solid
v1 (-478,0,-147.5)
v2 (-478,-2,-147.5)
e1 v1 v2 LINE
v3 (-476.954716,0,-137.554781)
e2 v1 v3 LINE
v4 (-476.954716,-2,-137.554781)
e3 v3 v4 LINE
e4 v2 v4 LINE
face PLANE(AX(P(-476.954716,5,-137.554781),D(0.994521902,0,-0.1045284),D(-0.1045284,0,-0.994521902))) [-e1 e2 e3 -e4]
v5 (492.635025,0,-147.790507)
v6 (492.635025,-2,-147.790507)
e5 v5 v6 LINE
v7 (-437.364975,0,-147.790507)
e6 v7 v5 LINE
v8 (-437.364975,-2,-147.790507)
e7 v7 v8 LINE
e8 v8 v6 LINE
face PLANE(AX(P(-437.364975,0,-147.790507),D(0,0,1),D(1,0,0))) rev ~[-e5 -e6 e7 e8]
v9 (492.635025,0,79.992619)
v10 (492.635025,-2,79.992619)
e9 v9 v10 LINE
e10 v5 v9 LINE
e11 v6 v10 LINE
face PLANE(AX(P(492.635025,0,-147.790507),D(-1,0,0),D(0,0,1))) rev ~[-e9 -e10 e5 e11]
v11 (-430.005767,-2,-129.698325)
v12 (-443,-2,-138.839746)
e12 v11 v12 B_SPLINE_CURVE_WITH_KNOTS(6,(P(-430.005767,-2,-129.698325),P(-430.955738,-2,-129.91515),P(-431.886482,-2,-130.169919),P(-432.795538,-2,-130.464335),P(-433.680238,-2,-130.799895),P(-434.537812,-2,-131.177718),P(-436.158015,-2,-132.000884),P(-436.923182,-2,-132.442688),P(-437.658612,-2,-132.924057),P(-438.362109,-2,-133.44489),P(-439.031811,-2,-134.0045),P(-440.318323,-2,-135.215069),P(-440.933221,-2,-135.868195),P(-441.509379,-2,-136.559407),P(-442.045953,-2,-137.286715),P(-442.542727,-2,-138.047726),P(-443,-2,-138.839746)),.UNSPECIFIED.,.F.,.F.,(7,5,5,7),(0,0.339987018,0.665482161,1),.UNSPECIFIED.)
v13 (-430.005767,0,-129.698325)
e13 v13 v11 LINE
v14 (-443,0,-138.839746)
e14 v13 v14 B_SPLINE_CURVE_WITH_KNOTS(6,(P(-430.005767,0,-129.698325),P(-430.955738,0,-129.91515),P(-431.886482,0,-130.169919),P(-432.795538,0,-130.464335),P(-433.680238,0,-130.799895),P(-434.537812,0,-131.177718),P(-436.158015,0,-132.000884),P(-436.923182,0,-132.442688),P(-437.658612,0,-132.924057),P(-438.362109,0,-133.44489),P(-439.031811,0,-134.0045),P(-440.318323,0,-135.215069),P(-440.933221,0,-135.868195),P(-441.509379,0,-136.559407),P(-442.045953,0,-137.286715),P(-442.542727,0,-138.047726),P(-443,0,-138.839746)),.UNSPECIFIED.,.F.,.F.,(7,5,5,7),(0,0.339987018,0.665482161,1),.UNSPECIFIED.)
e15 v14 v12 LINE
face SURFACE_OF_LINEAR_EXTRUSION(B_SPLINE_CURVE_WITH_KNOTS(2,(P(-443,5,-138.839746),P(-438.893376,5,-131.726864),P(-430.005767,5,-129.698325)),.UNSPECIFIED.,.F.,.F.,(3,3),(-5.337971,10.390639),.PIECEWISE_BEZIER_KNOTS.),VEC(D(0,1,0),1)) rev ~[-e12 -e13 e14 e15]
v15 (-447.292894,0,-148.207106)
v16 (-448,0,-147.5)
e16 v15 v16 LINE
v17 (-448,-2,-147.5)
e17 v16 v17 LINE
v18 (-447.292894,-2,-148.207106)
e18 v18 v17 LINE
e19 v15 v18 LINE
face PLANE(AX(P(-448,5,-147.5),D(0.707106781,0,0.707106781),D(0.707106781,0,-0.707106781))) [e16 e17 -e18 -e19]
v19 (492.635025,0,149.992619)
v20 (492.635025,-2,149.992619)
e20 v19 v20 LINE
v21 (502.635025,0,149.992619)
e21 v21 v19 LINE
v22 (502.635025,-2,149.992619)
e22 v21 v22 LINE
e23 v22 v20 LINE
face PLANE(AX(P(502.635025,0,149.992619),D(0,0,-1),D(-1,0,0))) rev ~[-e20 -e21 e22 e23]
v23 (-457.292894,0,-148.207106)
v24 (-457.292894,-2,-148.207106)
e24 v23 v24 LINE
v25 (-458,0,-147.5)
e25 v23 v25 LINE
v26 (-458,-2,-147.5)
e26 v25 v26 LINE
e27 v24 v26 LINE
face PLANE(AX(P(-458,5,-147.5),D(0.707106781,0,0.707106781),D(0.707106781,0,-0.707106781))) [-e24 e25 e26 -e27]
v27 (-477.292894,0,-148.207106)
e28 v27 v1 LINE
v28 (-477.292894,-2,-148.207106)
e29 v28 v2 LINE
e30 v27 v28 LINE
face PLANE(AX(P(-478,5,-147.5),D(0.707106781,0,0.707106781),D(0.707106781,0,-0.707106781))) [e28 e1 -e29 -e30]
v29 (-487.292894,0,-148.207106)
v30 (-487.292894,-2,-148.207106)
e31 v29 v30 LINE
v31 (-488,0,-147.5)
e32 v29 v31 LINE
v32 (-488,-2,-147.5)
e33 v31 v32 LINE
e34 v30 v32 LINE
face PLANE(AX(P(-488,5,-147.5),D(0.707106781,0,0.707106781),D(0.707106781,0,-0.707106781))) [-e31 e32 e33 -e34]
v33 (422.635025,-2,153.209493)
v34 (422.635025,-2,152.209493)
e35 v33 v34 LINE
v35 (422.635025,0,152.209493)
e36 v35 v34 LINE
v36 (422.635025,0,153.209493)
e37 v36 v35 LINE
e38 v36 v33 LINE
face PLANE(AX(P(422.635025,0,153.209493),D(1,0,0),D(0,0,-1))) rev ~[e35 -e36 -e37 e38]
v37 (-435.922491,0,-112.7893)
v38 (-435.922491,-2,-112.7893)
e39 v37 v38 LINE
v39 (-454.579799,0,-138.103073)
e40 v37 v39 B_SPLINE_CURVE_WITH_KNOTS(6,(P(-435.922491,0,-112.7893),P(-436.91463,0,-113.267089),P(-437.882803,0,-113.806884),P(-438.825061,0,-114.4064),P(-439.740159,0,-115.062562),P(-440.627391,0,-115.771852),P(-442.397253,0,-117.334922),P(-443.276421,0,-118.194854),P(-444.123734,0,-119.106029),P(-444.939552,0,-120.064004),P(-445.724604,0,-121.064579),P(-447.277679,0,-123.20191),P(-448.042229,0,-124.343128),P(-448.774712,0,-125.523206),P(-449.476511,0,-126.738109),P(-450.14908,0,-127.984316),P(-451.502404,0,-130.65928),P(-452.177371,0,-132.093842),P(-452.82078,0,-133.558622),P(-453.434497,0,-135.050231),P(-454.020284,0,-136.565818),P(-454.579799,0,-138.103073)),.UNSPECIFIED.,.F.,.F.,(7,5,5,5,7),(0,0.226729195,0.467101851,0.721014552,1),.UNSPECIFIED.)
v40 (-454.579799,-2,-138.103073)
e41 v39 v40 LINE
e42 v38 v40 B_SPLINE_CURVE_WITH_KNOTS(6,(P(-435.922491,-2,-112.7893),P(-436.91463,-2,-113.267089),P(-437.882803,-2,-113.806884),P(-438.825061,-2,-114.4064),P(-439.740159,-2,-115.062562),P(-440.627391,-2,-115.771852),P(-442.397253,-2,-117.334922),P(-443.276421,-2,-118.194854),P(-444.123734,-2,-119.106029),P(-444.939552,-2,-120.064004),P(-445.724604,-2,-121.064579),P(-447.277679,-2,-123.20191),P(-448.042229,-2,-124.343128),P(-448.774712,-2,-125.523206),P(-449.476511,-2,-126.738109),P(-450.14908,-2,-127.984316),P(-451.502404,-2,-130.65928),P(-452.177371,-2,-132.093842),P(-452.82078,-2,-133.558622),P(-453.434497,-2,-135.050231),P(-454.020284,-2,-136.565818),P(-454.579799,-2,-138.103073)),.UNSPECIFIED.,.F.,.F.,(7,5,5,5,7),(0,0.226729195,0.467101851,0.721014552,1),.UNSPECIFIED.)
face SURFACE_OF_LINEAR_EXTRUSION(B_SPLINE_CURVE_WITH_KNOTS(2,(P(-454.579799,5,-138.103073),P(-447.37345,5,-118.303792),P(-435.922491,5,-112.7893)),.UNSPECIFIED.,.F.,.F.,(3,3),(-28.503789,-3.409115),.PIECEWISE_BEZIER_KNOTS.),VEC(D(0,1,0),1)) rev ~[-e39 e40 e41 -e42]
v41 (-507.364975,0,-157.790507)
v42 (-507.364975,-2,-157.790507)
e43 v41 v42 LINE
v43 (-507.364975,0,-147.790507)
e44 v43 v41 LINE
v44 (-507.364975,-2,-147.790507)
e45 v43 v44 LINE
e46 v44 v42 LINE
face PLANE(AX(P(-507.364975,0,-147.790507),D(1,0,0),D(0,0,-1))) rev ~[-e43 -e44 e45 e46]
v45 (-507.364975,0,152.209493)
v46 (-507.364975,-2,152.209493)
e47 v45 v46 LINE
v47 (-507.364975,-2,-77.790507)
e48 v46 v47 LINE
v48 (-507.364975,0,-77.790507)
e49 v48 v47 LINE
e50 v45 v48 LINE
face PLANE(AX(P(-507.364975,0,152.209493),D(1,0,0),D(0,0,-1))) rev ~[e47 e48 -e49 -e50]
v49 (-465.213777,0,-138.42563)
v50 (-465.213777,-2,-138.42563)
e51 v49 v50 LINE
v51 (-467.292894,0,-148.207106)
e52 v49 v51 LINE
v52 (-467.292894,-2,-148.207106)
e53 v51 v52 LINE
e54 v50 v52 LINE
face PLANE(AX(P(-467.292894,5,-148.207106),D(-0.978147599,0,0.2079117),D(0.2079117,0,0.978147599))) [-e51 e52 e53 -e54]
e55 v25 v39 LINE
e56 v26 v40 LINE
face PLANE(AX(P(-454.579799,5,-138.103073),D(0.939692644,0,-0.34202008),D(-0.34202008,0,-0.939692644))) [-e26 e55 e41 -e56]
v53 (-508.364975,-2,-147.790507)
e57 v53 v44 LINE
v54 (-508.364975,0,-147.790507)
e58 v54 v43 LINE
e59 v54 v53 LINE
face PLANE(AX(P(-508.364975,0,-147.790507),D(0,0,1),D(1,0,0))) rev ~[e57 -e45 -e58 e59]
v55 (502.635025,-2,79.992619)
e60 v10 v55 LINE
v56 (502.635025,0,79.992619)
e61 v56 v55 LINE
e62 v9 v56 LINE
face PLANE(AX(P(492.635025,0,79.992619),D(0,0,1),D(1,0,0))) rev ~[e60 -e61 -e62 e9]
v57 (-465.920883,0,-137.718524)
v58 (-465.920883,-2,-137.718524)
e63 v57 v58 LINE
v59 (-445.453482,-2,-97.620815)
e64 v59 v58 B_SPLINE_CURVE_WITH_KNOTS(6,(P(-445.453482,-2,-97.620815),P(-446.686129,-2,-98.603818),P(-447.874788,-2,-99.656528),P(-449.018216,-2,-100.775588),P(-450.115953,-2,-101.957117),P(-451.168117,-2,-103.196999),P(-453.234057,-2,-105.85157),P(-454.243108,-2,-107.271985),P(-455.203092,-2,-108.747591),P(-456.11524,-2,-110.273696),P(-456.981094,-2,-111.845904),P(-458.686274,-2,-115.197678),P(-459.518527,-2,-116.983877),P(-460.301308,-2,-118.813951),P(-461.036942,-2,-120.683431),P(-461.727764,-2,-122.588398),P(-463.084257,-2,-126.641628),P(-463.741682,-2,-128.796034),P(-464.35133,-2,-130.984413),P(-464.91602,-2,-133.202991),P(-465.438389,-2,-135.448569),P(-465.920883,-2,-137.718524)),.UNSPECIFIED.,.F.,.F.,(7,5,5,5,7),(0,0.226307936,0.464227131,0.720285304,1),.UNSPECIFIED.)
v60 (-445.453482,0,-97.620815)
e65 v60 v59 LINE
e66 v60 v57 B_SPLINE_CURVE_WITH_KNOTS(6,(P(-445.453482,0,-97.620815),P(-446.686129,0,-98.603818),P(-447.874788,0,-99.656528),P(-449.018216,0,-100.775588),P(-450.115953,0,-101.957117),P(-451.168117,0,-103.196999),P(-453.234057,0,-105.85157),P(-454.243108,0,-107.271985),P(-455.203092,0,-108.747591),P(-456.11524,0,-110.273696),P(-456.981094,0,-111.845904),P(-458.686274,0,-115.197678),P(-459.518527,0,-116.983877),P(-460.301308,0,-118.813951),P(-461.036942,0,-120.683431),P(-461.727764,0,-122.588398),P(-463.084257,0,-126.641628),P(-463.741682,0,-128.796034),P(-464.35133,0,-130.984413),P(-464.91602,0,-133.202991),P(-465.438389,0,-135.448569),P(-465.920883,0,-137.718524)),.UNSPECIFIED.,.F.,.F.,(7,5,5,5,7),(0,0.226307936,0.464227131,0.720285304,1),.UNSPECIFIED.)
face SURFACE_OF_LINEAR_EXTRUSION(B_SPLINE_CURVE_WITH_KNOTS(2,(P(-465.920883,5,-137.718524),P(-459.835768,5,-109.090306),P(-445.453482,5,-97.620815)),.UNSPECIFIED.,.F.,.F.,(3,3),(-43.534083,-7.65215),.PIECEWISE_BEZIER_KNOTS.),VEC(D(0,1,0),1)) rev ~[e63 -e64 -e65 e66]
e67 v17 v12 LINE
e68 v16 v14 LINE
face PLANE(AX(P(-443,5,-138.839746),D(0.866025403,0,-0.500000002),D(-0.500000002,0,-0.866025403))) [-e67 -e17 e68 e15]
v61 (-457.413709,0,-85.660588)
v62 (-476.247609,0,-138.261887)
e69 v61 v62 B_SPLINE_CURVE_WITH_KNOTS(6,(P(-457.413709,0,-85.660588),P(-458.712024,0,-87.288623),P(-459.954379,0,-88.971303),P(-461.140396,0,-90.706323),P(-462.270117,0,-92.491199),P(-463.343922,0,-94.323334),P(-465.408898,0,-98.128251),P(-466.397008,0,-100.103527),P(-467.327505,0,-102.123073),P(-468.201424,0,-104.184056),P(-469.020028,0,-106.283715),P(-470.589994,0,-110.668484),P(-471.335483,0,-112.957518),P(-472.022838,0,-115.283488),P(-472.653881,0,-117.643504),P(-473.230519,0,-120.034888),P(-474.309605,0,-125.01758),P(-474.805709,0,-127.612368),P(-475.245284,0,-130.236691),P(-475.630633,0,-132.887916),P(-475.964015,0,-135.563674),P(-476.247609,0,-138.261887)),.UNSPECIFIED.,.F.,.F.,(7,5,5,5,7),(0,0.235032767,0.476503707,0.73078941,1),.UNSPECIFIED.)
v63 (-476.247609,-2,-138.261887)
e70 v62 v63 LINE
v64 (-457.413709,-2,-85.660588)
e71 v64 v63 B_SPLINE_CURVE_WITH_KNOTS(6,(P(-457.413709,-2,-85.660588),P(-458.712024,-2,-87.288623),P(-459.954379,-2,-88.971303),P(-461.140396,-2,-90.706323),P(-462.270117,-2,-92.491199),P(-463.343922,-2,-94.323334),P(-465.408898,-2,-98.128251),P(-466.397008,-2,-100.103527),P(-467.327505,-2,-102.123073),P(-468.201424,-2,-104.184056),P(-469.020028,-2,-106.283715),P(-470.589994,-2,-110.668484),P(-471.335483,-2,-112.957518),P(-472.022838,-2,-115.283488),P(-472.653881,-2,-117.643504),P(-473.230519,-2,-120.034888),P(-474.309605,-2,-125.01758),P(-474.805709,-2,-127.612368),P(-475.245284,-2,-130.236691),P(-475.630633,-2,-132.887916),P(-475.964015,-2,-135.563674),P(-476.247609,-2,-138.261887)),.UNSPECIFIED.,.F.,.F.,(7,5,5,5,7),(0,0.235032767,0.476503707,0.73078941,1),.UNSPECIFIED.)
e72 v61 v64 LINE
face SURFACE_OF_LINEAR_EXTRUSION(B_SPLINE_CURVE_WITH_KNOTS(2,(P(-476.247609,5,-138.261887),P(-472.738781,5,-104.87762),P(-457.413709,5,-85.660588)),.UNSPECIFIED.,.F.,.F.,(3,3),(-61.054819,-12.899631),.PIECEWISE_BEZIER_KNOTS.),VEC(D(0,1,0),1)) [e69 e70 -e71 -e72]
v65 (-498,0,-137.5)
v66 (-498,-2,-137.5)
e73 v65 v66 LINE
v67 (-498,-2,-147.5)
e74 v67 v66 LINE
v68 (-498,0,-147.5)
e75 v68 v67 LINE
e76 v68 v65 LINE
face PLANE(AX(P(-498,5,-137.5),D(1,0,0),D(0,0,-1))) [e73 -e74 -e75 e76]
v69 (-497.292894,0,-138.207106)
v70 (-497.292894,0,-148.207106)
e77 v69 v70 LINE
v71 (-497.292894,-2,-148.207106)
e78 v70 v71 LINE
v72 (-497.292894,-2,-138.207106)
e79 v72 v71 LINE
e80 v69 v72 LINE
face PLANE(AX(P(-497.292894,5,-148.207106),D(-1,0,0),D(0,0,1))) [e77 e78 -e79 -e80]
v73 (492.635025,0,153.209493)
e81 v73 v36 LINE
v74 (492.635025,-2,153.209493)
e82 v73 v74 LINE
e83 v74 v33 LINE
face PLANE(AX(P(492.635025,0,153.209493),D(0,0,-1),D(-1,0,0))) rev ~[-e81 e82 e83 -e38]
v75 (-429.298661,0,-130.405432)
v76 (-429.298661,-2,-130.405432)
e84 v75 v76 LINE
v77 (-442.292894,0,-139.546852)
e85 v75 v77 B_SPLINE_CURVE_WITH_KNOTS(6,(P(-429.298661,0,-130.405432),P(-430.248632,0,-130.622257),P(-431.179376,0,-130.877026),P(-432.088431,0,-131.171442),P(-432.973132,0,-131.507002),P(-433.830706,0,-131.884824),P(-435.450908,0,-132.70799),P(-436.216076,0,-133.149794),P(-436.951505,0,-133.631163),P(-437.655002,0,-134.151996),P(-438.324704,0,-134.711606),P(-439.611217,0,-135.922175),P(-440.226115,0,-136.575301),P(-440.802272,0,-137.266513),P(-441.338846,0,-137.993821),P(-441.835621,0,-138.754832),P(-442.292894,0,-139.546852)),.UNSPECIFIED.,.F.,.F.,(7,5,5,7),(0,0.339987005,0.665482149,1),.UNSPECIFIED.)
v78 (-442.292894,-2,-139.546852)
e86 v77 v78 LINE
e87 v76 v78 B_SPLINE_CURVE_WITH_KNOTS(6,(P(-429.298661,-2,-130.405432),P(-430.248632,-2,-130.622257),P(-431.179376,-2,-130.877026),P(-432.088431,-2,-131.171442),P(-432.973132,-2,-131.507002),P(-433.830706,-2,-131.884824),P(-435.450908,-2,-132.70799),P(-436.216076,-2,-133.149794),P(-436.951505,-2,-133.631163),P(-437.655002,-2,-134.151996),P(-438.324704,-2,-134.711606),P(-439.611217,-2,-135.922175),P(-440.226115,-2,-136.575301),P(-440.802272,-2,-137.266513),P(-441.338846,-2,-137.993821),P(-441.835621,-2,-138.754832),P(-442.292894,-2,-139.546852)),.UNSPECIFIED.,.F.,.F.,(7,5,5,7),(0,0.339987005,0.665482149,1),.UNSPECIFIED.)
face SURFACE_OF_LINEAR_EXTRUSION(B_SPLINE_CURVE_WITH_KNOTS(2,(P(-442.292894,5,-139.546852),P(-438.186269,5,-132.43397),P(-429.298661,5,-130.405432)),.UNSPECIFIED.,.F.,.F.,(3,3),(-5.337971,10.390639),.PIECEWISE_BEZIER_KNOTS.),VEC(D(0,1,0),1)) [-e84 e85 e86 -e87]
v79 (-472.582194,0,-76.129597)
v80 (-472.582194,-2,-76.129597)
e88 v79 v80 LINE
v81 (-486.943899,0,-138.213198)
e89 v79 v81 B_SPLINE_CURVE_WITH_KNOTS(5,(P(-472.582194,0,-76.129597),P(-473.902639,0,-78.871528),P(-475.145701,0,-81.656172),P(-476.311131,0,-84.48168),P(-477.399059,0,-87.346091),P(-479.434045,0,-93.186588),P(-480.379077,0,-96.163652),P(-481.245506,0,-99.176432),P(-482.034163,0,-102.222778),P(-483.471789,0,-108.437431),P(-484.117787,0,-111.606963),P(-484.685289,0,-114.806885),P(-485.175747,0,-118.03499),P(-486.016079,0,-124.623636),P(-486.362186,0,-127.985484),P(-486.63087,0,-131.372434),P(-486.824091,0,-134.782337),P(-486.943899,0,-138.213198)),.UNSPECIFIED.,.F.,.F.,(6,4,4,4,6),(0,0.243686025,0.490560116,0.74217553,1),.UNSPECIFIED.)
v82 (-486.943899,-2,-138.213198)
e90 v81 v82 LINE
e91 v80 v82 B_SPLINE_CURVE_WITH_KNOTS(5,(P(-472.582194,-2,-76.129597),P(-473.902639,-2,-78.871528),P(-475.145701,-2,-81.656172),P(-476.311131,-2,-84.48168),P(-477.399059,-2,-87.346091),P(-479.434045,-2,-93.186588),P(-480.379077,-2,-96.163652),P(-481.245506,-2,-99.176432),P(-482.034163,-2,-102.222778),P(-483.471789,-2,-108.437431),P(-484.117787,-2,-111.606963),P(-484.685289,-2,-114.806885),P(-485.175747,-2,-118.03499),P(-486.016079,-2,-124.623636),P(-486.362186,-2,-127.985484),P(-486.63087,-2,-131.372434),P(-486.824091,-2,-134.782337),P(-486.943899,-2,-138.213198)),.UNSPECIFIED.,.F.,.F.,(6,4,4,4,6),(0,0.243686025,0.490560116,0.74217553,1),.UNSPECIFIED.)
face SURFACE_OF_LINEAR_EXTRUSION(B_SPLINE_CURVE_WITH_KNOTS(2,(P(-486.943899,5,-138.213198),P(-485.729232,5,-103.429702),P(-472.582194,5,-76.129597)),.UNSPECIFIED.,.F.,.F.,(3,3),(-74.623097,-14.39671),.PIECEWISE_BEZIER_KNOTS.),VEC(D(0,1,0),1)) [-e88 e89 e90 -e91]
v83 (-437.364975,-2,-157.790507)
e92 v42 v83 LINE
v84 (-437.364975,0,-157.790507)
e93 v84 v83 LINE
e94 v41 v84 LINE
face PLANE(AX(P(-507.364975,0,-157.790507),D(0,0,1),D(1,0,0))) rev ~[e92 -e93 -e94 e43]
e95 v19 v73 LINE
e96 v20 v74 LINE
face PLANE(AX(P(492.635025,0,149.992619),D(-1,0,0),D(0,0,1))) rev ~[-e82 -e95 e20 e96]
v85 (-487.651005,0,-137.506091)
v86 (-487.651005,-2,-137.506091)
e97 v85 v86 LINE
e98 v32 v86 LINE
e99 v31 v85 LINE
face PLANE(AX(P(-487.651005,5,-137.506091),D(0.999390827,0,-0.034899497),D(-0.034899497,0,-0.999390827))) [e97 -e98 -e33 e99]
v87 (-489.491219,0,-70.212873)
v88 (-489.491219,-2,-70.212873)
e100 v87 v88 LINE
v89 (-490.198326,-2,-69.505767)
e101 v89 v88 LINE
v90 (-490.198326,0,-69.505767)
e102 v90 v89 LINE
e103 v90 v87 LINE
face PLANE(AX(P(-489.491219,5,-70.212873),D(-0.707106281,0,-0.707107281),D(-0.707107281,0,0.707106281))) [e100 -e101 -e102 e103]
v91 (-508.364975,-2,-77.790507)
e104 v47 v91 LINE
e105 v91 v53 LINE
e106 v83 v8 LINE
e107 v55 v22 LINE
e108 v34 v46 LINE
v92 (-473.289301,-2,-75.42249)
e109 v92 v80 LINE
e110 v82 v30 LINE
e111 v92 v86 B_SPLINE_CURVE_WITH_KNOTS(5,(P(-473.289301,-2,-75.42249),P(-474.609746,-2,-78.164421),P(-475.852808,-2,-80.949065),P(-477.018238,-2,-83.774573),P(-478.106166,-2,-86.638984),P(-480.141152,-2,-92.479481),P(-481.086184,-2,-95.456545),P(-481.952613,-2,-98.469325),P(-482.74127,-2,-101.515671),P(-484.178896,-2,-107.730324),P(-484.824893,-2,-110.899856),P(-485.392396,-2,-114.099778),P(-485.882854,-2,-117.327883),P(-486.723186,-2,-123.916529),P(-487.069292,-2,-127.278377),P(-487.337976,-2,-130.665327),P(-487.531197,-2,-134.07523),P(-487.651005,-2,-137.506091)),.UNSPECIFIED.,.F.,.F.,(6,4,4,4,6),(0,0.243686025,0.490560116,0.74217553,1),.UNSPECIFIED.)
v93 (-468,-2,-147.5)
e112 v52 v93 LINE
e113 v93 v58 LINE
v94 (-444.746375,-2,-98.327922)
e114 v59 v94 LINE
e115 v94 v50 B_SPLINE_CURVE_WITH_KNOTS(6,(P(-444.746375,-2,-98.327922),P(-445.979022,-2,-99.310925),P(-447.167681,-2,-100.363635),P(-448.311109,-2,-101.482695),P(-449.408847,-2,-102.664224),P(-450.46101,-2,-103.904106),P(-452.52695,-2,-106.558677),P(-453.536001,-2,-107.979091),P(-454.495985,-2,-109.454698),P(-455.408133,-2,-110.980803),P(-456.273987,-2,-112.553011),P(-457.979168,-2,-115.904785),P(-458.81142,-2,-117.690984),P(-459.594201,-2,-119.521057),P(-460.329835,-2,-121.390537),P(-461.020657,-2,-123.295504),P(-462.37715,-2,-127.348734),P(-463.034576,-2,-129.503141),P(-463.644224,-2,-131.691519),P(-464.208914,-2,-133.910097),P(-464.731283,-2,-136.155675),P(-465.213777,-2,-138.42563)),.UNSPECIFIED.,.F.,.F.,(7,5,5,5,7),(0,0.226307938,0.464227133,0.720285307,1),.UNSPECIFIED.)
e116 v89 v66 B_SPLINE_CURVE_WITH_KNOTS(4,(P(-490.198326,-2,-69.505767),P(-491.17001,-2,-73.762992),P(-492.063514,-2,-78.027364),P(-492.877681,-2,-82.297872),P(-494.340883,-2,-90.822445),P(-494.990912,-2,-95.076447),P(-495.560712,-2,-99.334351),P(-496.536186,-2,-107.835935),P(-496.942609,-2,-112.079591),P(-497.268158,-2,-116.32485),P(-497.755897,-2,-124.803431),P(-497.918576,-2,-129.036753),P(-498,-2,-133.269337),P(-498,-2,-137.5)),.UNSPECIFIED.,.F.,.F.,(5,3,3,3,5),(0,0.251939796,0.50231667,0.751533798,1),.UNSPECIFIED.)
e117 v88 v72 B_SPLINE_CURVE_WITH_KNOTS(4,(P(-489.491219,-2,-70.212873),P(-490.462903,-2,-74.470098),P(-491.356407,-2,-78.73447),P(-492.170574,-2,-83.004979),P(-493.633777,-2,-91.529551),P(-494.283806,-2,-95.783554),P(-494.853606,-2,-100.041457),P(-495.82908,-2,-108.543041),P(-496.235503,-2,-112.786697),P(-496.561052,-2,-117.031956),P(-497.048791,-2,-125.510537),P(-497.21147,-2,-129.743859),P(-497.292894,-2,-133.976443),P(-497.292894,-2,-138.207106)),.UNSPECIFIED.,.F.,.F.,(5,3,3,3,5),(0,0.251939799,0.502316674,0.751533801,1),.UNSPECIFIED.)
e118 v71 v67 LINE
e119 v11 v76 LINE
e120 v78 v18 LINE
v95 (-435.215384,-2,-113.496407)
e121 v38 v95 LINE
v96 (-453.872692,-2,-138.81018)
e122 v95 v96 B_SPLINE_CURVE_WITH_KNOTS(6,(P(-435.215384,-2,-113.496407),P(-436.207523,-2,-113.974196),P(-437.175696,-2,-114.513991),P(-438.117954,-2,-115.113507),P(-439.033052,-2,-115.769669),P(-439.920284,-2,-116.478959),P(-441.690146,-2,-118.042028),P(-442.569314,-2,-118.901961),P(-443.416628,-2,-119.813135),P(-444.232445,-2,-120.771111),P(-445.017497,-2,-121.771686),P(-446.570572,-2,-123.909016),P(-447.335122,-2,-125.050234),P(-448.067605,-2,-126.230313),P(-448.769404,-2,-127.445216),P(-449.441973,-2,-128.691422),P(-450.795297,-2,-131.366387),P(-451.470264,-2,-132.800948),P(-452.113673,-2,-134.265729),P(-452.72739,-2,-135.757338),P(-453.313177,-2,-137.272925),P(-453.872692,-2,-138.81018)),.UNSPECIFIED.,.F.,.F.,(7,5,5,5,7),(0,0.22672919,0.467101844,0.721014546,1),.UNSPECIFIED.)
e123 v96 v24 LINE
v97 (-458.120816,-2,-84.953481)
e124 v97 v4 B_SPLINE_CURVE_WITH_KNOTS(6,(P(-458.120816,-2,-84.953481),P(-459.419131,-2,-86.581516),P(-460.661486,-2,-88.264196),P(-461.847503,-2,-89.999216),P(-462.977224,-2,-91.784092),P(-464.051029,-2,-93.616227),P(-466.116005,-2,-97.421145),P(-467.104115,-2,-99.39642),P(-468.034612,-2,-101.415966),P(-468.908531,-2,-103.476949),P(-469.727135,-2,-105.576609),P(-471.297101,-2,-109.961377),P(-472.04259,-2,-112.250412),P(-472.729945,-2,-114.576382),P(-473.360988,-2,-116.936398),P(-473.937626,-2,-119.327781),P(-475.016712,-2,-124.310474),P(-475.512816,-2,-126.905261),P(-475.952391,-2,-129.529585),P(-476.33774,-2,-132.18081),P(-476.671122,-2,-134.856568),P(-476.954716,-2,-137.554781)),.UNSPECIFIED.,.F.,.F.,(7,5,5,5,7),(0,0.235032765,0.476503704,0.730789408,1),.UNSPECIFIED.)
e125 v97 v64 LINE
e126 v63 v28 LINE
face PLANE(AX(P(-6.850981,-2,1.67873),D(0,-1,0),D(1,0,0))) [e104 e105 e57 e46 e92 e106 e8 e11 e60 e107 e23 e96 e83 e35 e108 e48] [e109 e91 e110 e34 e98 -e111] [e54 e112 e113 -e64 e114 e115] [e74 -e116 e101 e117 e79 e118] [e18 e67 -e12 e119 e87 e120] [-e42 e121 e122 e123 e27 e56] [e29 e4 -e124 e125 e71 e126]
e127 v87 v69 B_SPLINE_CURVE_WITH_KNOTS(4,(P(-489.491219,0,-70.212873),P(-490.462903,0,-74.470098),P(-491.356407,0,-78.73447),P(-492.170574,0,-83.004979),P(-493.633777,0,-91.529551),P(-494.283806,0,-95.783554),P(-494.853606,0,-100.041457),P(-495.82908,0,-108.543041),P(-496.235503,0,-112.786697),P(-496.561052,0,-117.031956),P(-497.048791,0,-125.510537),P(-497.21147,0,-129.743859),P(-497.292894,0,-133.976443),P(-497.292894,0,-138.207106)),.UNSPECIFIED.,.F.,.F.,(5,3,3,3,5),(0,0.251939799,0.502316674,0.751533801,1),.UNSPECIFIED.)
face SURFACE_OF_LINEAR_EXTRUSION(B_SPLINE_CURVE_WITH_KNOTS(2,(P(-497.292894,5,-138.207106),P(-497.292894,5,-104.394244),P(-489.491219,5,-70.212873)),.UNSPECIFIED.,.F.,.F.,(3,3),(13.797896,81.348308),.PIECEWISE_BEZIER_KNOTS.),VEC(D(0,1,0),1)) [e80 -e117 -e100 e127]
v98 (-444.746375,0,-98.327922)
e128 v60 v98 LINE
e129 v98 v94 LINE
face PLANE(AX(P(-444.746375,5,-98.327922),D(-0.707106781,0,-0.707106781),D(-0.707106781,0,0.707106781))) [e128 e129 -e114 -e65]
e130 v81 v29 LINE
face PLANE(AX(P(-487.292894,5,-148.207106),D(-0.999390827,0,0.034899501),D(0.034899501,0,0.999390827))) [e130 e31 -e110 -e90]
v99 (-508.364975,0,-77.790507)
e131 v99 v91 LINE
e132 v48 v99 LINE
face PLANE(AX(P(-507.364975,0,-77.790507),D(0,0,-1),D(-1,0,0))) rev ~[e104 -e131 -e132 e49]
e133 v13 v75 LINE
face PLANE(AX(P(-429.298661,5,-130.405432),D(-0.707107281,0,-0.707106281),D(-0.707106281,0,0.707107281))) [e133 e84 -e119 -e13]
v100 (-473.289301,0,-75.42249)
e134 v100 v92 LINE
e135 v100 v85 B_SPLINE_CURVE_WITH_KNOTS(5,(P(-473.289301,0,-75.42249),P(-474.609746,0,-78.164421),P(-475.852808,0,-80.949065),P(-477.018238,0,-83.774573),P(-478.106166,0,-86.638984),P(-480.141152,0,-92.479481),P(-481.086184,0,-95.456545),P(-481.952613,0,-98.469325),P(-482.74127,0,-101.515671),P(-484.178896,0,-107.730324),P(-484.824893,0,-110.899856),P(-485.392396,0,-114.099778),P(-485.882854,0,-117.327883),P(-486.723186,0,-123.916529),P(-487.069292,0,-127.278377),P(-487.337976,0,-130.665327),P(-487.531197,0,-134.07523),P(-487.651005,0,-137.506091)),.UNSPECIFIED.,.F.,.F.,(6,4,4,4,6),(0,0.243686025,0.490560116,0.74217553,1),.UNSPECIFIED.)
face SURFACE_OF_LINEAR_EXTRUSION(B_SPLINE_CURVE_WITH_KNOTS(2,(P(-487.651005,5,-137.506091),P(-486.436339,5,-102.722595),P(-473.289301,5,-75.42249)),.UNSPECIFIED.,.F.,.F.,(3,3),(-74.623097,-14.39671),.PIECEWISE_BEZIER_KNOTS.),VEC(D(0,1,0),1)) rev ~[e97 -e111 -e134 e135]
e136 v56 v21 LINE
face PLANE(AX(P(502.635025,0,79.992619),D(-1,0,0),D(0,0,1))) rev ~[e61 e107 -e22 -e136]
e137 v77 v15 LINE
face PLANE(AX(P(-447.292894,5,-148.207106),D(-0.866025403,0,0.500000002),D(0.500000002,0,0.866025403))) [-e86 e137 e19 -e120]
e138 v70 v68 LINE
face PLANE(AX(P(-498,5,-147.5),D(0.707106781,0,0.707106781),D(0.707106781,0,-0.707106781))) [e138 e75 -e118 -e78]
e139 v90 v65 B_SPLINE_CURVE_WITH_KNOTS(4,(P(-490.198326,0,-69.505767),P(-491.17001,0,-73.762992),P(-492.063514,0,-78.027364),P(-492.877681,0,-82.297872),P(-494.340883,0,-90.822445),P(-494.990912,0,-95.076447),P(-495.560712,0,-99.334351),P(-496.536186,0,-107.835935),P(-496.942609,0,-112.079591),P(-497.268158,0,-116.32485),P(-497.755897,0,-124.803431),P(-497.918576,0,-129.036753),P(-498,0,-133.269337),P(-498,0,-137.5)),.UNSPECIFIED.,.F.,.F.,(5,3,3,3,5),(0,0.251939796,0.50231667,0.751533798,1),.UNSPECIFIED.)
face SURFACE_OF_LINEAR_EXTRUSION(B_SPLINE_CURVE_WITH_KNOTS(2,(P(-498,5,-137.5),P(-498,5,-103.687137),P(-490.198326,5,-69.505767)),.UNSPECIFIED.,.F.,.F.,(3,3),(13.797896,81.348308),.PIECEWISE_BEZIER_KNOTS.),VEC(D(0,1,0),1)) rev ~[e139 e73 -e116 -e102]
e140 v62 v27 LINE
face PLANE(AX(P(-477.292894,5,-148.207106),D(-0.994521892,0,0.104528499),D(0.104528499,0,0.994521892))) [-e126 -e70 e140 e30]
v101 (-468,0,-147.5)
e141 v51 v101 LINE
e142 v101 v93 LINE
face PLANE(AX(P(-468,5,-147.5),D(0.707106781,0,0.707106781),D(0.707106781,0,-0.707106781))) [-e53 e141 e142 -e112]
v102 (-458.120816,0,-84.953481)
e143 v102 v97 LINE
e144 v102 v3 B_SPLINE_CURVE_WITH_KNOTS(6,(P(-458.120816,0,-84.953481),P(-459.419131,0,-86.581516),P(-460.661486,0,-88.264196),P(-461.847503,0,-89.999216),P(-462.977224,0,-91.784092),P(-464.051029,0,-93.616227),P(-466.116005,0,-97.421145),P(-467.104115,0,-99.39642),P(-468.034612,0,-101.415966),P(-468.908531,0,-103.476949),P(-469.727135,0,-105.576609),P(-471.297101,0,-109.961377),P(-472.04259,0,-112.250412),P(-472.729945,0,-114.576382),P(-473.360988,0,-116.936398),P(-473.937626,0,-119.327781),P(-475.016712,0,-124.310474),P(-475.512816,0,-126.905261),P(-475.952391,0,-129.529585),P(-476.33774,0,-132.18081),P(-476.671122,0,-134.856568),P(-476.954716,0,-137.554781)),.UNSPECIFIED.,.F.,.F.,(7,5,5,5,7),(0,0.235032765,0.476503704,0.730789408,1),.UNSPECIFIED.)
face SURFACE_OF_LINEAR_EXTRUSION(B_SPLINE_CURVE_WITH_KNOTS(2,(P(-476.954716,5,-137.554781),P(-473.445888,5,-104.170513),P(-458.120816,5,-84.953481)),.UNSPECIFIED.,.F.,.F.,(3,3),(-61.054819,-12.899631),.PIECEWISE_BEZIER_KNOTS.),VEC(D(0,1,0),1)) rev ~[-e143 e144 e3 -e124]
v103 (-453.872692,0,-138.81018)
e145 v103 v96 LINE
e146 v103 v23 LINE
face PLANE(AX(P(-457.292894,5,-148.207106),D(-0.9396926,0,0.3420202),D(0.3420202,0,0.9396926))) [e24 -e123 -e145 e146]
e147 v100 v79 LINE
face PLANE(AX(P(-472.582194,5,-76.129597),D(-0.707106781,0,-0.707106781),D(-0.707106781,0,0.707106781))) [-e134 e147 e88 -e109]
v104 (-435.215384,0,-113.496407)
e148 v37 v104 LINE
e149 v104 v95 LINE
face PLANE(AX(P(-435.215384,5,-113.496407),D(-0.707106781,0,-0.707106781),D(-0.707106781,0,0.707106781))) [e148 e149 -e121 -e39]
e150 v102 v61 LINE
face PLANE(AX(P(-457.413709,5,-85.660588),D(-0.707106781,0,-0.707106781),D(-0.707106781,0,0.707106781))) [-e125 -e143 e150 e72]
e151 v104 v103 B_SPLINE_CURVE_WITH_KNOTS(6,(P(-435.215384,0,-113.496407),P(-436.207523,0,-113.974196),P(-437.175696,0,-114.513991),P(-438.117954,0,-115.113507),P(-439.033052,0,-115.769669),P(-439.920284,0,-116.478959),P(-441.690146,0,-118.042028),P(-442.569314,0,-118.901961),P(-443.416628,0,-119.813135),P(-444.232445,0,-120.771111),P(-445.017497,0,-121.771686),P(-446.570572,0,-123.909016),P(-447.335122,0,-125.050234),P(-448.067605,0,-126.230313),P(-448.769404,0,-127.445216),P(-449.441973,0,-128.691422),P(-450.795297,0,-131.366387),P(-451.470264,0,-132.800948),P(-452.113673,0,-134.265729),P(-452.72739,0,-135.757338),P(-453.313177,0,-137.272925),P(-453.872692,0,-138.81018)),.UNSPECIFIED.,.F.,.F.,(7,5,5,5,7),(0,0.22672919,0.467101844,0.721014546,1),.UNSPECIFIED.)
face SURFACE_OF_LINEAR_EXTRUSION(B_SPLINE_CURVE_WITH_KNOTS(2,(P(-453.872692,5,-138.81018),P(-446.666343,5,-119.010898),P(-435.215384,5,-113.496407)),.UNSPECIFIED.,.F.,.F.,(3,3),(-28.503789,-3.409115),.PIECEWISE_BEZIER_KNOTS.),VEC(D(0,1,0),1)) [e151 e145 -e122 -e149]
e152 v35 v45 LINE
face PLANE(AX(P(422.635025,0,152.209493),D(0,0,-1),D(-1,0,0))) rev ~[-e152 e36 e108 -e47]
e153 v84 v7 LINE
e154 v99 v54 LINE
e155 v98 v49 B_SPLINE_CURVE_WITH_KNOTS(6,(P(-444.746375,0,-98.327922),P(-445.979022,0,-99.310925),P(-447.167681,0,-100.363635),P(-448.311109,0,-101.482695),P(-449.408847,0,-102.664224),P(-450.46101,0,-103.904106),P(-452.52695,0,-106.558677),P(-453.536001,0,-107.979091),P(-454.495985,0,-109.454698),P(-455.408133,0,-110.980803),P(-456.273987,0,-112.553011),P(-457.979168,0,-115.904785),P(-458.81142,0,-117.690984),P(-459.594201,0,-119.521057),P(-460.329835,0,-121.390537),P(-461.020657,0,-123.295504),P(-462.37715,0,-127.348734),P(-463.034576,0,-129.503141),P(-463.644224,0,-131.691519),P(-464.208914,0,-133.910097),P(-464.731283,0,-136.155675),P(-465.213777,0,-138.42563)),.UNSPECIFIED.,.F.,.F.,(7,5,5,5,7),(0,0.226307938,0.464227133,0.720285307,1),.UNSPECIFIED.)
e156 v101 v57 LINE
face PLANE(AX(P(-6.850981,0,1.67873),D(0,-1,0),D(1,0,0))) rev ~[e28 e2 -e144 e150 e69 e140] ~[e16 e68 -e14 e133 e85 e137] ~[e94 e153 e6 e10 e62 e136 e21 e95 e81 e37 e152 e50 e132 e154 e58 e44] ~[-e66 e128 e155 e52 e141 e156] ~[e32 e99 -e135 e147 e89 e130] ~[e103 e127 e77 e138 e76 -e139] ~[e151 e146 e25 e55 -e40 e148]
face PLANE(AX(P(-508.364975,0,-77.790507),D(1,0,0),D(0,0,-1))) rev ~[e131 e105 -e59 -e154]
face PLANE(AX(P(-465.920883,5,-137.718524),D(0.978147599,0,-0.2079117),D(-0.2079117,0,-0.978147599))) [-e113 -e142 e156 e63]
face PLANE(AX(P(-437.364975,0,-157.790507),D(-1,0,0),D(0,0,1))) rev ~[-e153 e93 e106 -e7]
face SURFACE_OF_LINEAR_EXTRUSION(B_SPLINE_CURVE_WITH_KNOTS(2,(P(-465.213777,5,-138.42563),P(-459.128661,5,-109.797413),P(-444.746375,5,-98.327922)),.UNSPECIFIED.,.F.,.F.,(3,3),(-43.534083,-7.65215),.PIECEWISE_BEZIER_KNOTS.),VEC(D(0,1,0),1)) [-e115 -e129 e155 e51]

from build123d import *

# Parameters (mm, degrees)
EXTRUDE_DEPTH    = 10
EXTRUDE002_DEPTH = 2


with BuildPart() as extrude_body:
    # Extrude001 → Extrude (new body)
    with BuildSketch(Plane(origin=(-497.646447, 5, -142.853553), x_dir=(-1, 0, 0), z_dir=(0, -1, 0))):
        Polygon((0.353553, 4.646447), (-0.353553, 5.353553), (-0.353553, -4.646447), (0.353553, -5.353553), align=None)
        with BuildLine():
            Line((0.353553, -5.353553), (-0.353553, -4.646447))
            add(Edge.make_bspline(
                [(-0.353553, -4.646447), (-0.353553, -38.459309), (-8.155228, -72.64068)],
                knots=[13.797896, 13.797896, 13.797896, 81.348308, 81.348308, 81.348308], degree=2))
            Line((-8.155228, -72.64068), (-7.448121, -73.347786))
            add(Edge.make_bspline(
                [(0.353553, -5.353553), (0.353553, -39.166416), (-7.448121, -73.347786)],
                knots=[13.797896, 13.797896, 13.797896, 81.348308, 81.348308, 81.348308], degree=2))
        make_face()
        Polygon((-9.646447, 4.646447), (-10.353553, 5.353553), (-10.702548, -4.640355), (-9.995442, -5.347462), align=None)
        with BuildLine():
            Line((-9.995442, -5.347462), (-10.702548, -4.640355))
            add(Edge.make_bspline(
                [(-10.702548, -4.640355), (-11.917215, -39.423851), (-25.064253, -66.723956)],
                knots=[-74.623097, -74.623097, -74.623097, -14.39671, -14.39671, -14.39671], degree=2))
            Line((-25.064253, -66.723956), (-24.357146, -67.431063))
            add(Edge.make_bspline(
                [(-9.995442, -5.347462), (-11.210108, -40.130958), (-24.357146, -67.431063)],
                knots=[-74.623097, -74.623097, -74.623097, -14.39671, -14.39671, -14.39671], degree=2))
        make_face()
        Polygon((-19.646447, 4.646447), (-20.353553, 5.353553), (-21.398838, -4.591666), (-20.691731, -5.298772), align=None)
        with BuildLine():
            Line((-20.691731, -5.298772), (-21.398838, -4.591666))
            add(Edge.make_bspline(
                [(-21.398838, -4.591666), (-24.907666, -37.975933), (-40.232738, -57.192965)],
                knots=[-61.054819, -61.054819, -61.054819, -12.899631, -12.899631, -12.899631], degree=2))
            Line((-40.232738, -57.192965), (-39.525631, -57.900072))
            add(Edge.make_bspline(
                [(-20.691731, -5.298772), (-24.200559, -38.68304), (-39.525631, -57.900072)],
                knots=[-61.054819, -61.054819, -61.054819, -12.899631, -12.899631, -12.899631], degree=2))
        make_face()
        Polygon((-29.646447, 4.646447), (-30.353553, 5.353553), (-32.43267, -4.427923), (-31.725564, -5.135029), align=None)
        with BuildLine():
            Line((-31.725564, -5.135029), (-32.43267, -4.427923))
            add(Edge.make_bspline(
                [(-32.43267, -4.427923), (-38.517786, -33.05614), (-52.900072, -44.525631)],
                knots=[-43.534083, -43.534083, -43.534083, -7.65215, -7.65215, -7.65215], degree=2))
            Line((-52.900072, -44.525631), (-52.192965, -45.232738))
            add(Edge.make_bspline(
                [(-31.725564, -5.135029), (-37.810679, -33.763247), (-52.192965, -45.232738)],
                knots=[-43.534083, -43.534083, -43.534083, -7.65215, -7.65215, -7.65215], degree=2))
        make_face()
        Polygon((-39.646447, 4.646447), (-40.353553, 5.353553), (-43.773755, -4.043373), (-43.066648, -4.75048), align=None)
        with BuildLine():
            Line((-43.066648, -4.75048), (-43.773755, -4.043373))
            add(Edge.make_bspline(
                [(-43.773755, -4.043373), (-50.980104, -23.842655), (-62.431063, -29.357146)],
                knots=[-28.503789, -28.503789, -28.503789, -3.409115, -3.409115, -3.409115], degree=2))
            Line((-62.431063, -29.357146), (-61.723956, -30.064253))
            add(Edge.make_bspline(
                [(-43.066648, -4.75048), (-50.272997, -24.549761), (-61.723956, -30.064253)],
                knots=[-28.503789, -28.503789, -28.503789, -3.409115, -3.409115, -3.409115], degree=2))
        make_face()
        Polygon((-49.646447, 4.646447), (-50.353553, 5.353553), (-55.353553, -3.306701), (-54.646447, -4.013807), align=None)
        with BuildLine():
            Line((-54.646447, -4.013807), (-55.353553, -3.306701))
            add(Edge.make_bspline(
                [(-55.353553, -3.306701), (-59.460178, -10.419583), (-68.347786, -12.448121)],
                knots=[-5.337971, -5.337971, -5.337971, 10.390639, 10.390639, 10.390639], degree=2))
            Line((-68.347786, -12.448121), (-67.64068, -13.155228))
            add(Edge.make_bspline(
                [(-54.646447, -4.013807), (-58.753071, -11.126689), (-67.64068, -13.155228)],
                knots=[-5.337971, -5.337971, -5.337971, 10.390639, 10.390639, 10.390639], degree=2))
        make_face()
    extrude(amount=EXTRUDE_DEPTH)


with BuildPart() as cut:
    # Sketch → Extrude002 (new body)
    with BuildSketch(Plane.XZ):
        Polygon((-507.364975, -157.790507), (-437.364975, -157.790507), (-437.364975, -147.790507), (492.635025, -147.790507), (492.635025, 79.992619), (502.635025, 79.992619), (502.635025, 149.992619), (492.635025, 149.992619), (492.635025, 153.209493), (422.635025, 153.209493), (422.635025, 152.209493), (-507.364975, 152.209493), (-507.364975, -77.790507), (-508.364975, -77.790507), (-508.364975, -147.790507), (-507.364975, -147.790507), align=None)
    extrude(amount=EXTRUDE002_DEPTH)

    # Cut: cut Extrude body
    add(extrude_body.part, mode=Mode.SUBTRACT)


solid = cut.part
